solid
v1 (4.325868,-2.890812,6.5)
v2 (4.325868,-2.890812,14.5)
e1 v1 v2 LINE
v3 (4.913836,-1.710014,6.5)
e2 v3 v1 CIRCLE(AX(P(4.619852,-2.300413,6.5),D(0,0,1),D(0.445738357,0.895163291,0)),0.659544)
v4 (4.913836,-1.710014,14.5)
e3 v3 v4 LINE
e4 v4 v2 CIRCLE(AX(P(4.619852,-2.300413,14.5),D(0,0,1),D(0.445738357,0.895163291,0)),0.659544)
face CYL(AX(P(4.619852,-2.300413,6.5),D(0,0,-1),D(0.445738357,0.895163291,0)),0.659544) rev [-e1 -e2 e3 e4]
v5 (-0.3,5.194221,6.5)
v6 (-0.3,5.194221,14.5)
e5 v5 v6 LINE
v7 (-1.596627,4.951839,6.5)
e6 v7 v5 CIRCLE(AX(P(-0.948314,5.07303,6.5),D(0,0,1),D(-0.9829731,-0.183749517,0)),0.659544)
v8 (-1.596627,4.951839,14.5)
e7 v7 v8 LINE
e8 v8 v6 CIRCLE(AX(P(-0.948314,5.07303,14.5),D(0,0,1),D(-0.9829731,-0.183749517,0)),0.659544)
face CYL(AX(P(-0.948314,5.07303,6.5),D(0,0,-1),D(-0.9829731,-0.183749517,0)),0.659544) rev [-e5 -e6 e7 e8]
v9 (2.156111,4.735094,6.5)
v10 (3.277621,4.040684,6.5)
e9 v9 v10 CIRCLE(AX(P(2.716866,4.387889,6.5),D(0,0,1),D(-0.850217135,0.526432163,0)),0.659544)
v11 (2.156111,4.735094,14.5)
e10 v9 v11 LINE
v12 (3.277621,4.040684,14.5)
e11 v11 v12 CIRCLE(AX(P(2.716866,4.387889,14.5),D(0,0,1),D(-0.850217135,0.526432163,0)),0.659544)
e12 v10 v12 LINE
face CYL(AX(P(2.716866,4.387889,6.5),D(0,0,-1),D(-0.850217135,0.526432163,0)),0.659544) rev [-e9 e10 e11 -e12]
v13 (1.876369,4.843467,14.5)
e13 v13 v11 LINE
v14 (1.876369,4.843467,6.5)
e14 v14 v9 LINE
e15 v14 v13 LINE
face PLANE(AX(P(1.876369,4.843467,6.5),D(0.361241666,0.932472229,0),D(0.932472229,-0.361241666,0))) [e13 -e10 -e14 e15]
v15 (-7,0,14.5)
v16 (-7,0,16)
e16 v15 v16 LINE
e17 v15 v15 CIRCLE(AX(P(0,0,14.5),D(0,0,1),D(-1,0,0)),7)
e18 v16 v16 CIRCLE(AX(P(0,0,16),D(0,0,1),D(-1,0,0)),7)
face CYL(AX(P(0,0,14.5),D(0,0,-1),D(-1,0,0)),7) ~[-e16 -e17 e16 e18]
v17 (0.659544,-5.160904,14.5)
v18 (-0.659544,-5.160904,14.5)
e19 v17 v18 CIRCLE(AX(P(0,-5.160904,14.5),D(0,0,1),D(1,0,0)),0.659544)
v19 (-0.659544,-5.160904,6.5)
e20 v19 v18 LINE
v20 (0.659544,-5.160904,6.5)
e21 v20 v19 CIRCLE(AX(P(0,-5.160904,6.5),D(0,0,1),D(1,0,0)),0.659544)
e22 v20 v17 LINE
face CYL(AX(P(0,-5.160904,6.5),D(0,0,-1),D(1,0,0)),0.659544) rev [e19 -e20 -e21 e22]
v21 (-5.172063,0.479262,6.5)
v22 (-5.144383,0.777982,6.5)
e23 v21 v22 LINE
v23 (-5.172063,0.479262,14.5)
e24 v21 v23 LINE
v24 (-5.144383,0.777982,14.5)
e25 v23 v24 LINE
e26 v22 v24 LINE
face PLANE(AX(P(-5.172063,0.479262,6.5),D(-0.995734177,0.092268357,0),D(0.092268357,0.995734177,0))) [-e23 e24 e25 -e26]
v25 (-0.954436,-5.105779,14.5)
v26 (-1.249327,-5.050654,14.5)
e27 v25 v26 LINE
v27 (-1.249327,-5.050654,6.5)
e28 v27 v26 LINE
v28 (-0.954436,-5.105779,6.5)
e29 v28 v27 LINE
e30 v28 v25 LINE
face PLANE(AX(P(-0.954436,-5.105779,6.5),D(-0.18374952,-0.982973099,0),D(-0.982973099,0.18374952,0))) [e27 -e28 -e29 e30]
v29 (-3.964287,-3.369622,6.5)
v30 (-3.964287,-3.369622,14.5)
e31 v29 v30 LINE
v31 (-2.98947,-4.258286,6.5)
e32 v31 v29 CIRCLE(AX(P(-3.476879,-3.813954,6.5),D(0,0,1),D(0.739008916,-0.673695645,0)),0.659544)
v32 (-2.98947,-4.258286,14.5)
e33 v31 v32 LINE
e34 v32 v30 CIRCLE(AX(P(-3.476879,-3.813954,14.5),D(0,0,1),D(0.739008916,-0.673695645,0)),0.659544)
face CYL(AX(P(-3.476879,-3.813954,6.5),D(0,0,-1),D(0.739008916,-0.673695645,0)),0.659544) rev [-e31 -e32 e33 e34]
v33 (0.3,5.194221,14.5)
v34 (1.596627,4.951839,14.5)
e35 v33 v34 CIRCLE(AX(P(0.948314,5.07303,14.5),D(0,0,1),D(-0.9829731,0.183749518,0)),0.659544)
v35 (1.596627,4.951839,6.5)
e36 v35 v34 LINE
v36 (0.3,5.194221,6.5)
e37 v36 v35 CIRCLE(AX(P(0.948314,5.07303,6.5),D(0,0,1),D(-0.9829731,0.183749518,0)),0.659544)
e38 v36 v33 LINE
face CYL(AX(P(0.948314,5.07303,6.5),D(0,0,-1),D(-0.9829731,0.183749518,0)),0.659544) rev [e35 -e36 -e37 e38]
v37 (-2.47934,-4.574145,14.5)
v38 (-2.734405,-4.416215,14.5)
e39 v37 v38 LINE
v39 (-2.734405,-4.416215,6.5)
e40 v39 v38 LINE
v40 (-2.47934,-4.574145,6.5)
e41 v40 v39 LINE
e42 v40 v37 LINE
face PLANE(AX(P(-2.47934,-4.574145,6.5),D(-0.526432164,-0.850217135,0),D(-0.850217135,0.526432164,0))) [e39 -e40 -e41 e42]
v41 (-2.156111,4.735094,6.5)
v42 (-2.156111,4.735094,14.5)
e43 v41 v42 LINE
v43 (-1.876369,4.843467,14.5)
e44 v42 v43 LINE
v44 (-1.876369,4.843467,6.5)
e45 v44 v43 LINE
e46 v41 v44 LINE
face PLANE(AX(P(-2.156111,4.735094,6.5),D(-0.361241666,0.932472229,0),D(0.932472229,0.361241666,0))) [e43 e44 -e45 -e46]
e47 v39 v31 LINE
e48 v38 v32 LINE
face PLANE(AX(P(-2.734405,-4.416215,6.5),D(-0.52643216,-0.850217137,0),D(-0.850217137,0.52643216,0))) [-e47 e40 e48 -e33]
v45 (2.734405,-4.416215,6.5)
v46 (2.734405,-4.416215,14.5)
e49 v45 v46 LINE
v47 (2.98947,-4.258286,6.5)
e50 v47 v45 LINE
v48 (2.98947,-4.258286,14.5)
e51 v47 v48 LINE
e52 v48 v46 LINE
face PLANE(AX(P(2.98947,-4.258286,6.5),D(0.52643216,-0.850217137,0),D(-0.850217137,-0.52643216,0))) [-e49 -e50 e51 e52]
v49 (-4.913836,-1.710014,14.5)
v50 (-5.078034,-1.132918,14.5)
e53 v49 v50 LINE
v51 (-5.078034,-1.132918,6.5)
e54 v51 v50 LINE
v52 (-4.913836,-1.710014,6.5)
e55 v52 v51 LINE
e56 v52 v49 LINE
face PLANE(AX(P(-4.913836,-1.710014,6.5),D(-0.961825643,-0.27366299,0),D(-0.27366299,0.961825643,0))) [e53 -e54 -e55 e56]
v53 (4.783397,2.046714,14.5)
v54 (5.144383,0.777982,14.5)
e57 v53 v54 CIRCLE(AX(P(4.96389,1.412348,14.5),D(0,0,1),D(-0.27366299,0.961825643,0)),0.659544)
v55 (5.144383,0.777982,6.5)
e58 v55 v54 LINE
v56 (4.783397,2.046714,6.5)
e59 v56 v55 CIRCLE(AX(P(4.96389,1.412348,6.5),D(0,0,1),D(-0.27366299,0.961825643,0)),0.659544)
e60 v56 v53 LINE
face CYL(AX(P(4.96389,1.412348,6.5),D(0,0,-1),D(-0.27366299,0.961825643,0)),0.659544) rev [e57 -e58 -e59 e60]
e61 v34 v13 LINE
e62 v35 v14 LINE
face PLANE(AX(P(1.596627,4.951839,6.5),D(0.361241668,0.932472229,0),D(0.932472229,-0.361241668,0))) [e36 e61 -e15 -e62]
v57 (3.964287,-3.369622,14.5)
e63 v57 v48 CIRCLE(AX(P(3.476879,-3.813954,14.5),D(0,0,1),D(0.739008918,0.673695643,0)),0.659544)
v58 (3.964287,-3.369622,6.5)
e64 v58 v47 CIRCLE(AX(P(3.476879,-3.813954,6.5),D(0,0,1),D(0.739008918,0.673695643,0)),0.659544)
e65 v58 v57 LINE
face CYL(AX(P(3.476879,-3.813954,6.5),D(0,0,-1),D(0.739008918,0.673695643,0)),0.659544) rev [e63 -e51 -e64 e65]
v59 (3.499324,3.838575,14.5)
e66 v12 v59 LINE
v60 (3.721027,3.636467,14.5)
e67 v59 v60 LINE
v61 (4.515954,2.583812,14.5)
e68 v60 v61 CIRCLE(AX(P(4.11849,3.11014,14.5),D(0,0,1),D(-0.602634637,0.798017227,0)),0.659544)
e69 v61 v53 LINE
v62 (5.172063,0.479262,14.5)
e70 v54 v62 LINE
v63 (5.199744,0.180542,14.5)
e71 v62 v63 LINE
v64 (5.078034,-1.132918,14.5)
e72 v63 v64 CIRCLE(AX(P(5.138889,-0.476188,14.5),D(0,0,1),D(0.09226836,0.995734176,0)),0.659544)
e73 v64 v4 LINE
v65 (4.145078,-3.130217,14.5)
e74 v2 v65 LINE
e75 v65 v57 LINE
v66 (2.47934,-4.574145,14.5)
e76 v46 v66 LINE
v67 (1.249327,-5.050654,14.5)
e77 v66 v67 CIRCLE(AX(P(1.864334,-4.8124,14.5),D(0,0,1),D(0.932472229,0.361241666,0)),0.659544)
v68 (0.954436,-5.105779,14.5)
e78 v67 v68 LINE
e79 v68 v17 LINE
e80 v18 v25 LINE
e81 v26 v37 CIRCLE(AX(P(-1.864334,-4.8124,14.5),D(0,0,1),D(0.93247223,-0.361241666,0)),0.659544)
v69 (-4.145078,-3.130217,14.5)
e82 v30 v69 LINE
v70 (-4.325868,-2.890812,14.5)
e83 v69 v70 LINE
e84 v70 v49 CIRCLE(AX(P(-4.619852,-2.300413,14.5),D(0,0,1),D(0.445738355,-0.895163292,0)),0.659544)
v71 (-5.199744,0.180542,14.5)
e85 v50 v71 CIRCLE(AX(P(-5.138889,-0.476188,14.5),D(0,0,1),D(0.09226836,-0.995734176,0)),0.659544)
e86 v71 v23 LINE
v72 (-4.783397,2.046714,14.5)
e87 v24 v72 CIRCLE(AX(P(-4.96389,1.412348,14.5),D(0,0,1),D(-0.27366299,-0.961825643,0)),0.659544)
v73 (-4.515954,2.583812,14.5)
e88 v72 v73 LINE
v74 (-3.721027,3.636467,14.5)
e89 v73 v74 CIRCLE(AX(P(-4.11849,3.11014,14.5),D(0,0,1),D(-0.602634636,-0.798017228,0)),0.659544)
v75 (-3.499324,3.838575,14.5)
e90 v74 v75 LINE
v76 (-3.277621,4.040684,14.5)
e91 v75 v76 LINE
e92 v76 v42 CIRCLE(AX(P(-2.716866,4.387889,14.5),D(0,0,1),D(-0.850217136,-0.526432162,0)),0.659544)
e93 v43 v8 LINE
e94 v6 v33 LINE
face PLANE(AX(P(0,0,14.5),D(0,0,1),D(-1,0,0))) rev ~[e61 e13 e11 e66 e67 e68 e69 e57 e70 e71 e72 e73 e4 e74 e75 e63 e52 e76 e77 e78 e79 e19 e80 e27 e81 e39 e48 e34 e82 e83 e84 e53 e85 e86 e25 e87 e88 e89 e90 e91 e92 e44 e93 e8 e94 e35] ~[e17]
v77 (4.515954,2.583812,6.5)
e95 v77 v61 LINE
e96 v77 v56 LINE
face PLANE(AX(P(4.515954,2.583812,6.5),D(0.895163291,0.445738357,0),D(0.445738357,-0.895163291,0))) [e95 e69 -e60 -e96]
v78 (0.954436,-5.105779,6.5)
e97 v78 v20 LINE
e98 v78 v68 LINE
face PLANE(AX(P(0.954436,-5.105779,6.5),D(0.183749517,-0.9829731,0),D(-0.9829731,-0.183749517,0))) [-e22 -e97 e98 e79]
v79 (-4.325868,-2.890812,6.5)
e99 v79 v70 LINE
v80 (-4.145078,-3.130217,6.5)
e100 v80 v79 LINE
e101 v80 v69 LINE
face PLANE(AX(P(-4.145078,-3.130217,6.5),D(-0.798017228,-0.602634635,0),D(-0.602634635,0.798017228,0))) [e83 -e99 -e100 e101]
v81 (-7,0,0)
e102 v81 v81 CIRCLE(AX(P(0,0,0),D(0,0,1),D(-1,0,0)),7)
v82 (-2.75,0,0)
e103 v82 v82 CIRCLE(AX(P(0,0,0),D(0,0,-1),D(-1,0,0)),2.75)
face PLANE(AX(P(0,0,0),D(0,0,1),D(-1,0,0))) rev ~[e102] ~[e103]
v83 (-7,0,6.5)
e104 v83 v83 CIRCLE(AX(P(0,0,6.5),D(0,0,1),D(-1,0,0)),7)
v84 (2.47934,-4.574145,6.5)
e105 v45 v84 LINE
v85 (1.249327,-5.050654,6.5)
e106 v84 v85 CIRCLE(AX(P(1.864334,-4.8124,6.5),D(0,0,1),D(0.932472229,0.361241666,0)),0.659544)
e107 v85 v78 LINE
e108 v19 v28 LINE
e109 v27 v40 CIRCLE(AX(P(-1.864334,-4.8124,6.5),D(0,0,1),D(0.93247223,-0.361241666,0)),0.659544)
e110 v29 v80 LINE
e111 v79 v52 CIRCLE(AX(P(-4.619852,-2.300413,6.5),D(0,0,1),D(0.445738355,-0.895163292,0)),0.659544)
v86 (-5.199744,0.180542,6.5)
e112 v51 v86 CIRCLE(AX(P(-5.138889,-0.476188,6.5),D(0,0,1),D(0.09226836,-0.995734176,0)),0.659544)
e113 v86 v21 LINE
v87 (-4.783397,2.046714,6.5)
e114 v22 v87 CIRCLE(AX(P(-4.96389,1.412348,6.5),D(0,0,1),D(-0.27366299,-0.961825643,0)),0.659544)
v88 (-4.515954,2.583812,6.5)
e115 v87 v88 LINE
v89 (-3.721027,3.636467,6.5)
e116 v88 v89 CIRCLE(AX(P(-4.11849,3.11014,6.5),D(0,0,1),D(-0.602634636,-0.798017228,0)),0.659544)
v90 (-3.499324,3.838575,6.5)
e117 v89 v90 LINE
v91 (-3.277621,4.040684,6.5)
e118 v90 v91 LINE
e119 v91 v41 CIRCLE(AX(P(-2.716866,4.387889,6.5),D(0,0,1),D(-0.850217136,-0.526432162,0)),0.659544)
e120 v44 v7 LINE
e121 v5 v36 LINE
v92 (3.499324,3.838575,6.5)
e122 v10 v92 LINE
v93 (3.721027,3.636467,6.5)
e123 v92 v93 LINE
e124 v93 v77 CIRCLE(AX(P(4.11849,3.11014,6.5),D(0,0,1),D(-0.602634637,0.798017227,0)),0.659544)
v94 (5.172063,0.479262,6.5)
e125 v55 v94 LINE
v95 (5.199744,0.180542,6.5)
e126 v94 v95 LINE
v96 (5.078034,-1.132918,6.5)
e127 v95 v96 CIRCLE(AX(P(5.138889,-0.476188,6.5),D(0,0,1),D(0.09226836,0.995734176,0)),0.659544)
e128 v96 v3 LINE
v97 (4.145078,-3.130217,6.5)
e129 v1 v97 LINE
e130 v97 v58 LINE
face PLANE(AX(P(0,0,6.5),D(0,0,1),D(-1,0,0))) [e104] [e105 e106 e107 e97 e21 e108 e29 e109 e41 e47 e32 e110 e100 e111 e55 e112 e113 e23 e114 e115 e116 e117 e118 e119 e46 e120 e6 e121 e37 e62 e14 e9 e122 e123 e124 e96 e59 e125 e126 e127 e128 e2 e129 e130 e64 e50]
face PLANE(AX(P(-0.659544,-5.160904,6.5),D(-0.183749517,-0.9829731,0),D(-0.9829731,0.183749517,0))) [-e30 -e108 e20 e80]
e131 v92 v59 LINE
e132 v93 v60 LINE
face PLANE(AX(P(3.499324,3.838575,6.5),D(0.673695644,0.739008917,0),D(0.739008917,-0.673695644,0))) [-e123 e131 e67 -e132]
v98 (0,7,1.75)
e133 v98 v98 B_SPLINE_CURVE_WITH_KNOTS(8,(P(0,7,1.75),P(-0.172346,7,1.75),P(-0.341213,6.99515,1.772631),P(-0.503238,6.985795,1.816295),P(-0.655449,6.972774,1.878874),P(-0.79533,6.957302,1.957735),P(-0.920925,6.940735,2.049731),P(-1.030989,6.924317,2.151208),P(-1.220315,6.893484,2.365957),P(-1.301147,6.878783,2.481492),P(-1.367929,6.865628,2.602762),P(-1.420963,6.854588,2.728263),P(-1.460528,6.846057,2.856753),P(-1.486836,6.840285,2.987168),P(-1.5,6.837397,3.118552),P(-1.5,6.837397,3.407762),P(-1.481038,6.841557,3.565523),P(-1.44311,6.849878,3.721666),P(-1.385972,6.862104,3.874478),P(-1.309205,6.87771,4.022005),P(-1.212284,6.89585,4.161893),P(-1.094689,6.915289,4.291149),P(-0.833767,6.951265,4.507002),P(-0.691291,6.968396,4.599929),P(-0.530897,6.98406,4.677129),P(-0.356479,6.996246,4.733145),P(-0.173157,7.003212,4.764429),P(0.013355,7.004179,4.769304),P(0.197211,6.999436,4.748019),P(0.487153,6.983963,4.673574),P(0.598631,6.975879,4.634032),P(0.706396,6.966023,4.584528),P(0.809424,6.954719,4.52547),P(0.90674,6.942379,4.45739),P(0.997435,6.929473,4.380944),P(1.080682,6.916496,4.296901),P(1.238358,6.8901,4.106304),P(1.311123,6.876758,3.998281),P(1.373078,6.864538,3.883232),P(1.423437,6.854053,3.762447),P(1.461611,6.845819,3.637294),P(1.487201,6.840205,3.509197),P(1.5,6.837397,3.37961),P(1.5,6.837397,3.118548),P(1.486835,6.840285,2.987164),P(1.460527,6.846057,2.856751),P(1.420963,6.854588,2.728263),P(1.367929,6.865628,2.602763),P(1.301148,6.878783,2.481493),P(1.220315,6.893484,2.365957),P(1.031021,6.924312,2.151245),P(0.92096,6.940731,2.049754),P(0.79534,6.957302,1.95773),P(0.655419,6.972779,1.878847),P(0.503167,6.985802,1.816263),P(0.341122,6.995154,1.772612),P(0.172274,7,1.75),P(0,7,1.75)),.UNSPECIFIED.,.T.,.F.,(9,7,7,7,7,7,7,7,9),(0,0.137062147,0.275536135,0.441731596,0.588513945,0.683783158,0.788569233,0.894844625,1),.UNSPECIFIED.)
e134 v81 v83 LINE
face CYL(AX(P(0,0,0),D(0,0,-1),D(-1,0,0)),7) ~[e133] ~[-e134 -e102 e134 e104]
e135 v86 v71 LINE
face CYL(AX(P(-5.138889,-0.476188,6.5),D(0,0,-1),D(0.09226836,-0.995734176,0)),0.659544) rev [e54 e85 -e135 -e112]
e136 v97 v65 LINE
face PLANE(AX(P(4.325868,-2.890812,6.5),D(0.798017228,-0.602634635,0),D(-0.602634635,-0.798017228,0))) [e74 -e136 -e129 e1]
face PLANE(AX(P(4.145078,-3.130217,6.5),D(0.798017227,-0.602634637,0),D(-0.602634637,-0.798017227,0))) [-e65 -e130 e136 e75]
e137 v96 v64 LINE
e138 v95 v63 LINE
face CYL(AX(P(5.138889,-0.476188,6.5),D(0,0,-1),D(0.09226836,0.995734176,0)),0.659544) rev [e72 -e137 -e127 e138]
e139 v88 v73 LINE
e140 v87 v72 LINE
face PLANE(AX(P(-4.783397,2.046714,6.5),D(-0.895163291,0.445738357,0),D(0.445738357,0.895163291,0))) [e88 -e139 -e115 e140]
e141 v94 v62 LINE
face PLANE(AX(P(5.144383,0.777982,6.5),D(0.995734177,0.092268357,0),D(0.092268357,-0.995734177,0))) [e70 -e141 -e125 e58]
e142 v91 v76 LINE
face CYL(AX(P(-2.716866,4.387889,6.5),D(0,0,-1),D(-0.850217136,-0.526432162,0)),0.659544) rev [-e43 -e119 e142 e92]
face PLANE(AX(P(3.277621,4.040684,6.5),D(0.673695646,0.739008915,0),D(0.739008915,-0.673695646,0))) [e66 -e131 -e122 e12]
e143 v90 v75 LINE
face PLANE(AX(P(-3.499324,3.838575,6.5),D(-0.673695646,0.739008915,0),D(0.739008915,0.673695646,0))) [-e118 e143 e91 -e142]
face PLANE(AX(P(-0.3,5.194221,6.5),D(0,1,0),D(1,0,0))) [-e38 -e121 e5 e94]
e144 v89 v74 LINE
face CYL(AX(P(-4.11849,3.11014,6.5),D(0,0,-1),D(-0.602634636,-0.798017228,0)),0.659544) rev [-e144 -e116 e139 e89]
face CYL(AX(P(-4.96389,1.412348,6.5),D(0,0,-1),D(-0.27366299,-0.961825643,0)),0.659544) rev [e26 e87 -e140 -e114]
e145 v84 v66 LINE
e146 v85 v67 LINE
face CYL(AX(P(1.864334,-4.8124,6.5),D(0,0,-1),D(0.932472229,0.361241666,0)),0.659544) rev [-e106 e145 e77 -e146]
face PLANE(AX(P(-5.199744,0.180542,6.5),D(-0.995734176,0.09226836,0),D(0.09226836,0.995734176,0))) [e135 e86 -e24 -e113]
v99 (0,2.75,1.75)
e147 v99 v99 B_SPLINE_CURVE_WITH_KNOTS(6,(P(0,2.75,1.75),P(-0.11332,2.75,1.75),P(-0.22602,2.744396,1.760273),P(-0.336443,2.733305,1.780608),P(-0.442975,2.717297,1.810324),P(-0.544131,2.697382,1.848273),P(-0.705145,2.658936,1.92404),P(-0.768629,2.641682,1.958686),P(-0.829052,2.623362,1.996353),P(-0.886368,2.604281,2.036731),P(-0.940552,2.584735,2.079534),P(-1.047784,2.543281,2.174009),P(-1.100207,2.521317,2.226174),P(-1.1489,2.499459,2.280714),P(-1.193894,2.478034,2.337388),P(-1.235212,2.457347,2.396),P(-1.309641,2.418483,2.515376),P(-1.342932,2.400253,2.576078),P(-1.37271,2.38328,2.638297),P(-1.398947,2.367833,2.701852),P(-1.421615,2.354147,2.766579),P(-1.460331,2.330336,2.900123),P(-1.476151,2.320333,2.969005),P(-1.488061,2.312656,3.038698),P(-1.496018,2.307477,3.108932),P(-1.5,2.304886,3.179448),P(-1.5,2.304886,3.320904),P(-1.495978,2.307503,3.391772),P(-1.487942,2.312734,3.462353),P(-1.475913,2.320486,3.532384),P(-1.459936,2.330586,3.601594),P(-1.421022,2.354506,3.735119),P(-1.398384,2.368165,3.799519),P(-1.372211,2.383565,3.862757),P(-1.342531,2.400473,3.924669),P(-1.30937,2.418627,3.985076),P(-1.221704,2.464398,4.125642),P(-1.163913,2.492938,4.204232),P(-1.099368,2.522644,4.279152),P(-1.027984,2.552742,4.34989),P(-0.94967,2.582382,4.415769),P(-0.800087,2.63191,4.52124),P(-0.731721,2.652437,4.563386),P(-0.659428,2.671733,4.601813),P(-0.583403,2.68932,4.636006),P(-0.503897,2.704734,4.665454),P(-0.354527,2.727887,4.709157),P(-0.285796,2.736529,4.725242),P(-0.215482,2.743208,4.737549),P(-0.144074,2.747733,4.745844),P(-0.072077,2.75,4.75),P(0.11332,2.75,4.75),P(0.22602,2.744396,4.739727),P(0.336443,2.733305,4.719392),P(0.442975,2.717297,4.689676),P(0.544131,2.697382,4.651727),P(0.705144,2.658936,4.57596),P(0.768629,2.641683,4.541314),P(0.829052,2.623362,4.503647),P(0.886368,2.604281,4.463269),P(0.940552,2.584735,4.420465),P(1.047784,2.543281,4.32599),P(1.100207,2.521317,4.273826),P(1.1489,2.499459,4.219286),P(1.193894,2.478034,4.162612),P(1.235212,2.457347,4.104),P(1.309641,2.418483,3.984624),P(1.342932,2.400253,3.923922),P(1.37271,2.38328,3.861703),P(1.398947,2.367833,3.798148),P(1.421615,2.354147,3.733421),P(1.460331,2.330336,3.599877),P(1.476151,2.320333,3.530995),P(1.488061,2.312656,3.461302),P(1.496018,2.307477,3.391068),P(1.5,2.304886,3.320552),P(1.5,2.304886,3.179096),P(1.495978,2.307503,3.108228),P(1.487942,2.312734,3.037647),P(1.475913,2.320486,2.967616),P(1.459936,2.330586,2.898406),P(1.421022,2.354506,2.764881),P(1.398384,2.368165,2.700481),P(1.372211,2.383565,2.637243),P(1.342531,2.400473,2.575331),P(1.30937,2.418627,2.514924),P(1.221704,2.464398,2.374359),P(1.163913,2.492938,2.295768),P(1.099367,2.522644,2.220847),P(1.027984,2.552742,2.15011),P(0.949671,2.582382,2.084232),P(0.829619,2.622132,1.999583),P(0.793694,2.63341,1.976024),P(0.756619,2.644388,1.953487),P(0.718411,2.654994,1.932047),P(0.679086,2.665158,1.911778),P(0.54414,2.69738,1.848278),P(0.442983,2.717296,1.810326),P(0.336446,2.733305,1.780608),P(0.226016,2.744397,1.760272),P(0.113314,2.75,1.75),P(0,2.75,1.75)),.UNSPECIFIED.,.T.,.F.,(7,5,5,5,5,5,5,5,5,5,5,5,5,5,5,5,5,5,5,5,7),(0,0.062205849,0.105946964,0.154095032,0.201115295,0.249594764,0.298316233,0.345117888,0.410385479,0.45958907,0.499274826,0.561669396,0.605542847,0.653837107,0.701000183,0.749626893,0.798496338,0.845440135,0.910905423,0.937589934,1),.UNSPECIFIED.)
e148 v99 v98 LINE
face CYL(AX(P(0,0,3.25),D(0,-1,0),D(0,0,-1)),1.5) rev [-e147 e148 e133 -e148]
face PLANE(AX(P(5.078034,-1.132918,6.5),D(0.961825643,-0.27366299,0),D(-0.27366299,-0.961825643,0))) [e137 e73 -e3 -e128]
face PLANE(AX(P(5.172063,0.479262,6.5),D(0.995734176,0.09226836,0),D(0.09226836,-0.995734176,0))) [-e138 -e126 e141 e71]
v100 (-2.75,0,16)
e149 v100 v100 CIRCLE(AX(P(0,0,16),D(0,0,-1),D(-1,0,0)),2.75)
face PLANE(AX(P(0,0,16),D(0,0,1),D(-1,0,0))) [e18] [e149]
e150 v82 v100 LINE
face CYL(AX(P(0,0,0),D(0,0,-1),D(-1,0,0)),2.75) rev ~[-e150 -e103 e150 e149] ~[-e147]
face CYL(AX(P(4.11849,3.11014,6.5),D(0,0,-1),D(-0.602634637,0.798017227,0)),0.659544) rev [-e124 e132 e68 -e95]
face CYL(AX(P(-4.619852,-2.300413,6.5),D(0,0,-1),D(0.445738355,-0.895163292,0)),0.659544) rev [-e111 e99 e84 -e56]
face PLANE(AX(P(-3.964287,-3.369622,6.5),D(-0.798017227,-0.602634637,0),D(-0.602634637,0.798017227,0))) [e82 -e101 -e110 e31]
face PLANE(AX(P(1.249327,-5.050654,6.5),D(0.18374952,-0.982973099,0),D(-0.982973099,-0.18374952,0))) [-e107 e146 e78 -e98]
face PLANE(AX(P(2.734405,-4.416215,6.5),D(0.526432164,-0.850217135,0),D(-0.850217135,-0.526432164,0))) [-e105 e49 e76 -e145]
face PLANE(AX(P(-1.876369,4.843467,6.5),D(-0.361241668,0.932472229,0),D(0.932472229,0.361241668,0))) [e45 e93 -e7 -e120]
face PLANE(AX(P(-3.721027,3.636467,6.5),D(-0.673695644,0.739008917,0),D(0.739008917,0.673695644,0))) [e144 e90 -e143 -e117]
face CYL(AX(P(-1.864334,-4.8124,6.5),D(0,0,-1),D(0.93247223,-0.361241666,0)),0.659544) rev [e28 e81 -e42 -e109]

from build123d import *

# Parameters (mm, degrees)
ESQUISSE1_R                  = 7
BOSS_EXTRU_1_DEPTH           = 6.5
BOSS_EXTRU_2_DEPTH           = 8
ESQUISSE4_R                  = 7
BOSS_EXTRU_3_DEPTH           = 1.5
ESQUISSE5_R                  = 2.75
ENL_V_MAT_EXTRU_1_DEPTH      = 16
ENL_V_MAT_EXTRU_3_REACH      = 20.815
ENL_V_MAT_EXTRU_3_END_RADIUS = 7
ESQUISSE8_R                  = 1.5


with BuildPart() as part:
    # Esquisse1 → Boss.-Extru.1 (new body)
    with BuildSketch(Plane.XY):
        with Locations(Location((0, 0, 0), (0, 0, 180))):
            Circle(ESQUISSE1_R)
    extrude(amount=BOSS_EXTRU_1_DEPTH)

    # Esquisse3 → Boss.-Extru.2 (add)
    with BuildSketch(Plane.XY.offset(6.5)):
        with BuildLine():
            Line((0, 5.194220739), (0.3, 5.194220739))
            ThreePointArc((0.3, 5.194220739), (0.827122819, 4.424716273), (1.596627286, 4.951839093))
            Line((1.596627286, 4.951839093), (1.876368954, 4.843466593))
            Line((1.876368954, 4.843466593), (2.156110623, 4.735094093))
            ThreePointArc((2.156110623, 4.735094093), (2.369660938, 3.827133822), (3.277621209, 4.040684138))
            Line((3.277621209, 4.040684138), (3.499323884, 3.838575444))
            Line((3.499323884, 3.838575444), (3.721026559, 3.636466751))
            ThreePointArc((3.721026559, 3.636466751), (3.592163217, 2.712675742), (4.515954226, 2.583812399))
            Line((4.515954226, 2.583812399), (4.649675733, 2.315263412))
            Line((4.649675733, 2.315263412), (4.78339724, 2.046714425))
            ThreePointArc((4.78339724, 2.046714425), (4.329523948, 1.231855771), (5.144382602, 0.777982479))
            Line((5.144382602, 0.777982479), (5.172063109, 0.479262226))
            Line((5.172063109, 0.479262226), (5.199743617, 0.180541973))
            ThreePointArc((5.199743617, 0.180541973), (4.482158479, -0.415333148), (5.0780336, -1.132918286))
            Line((5.0780336, -1.132918286), (4.995934703, -1.421465979))
            Line((4.995934703, -1.421465979), (4.913835806, -1.710013672))
            ThreePointArc((4.913835806, -1.710013672), (4.029452671, -2.006429023), (4.325868023, -2.890812158))
            Line((4.325868023, -2.890812158), (4.145077632, -3.130217327))
            Line((4.145077632, -3.130217327), (3.964287241, -3.369622495))
            ThreePointArc((3.964287241, -3.369622495), (3.032546952, -3.326545541), (2.989469999, -4.258285831))
            Line((2.989469999, -4.258285831), (2.734404858, -4.416215479))
            Line((2.734404858, -4.416215479), (2.479339718, -4.574145128))
            ThreePointArc((2.479339718, -4.574145128), (1.626078963, -4.197393651), (1.249327486, -5.050654405))
            Line((1.249327486, -5.050654405), (0.954435556, -5.105779261))
            Line((0.954435556, -5.105779261), (0.659543626, -5.160904116))
            ThreePointArc((0.659543626, -5.160904116), (0, -4.50136049), (-0.659543626, -5.160904116))
            Line((-0.659543626, -5.160904116), (-0.954435556, -5.105779261))
            Line((-0.954435556, -5.105779261), (-1.249327486, -5.050654405))
            ThreePointArc((-1.249327486, -5.050654405), (-1.626078963, -4.197393651), (-2.479339718, -4.574145128))
            Line((-2.479339718, -4.574145128), (-2.734404858, -4.416215479))
            Line((-2.734404858, -4.416215479), (-2.989469999, -4.258285831))
            ThreePointArc((-2.989469999, -4.258285831), (-3.032546952, -3.326545541), (-3.964287241, -3.369622495))
            Line((-3.964287241, -3.369622495), (-4.145077632, -3.130217327))
            Line((-4.145077632, -3.130217327), (-4.325868023, -2.890812158))
            ThreePointArc((-4.325868023, -2.890812158), (-4.029452671, -2.006429023), (-4.913835806, -1.710013672))
            Line((-4.913835806, -1.710013672), (-4.995934703, -1.421465979))
            Line((-4.995934703, -1.421465979), (-5.0780336, -1.132918286))
            ThreePointArc((-5.0780336, -1.132918286), (-4.482158479, -0.415333148), (-5.199743617, 0.180541973))
            Line((-5.199743617, 0.180541973), (-5.172063109, 0.479262226))
            Line((-5.172063109, 0.479262226), (-5.144382602, 0.777982479))
            ThreePointArc((-5.144382602, 0.777982479), (-4.329523948, 1.231855771), (-4.78339724, 2.046714425))
            Line((-4.78339724, 2.046714425), (-4.649675733, 2.315263412))
            Line((-4.649675733, 2.315263412), (-4.515954226, 2.583812399))
            ThreePointArc((-4.515954226, 2.583812399), (-3.592163217, 2.712675742), (-3.721026559, 3.636466751))
            Line((-3.721026559, 3.636466751), (-3.499323884, 3.838575444))
            Line((-3.499323884, 3.838575444), (-3.277621209, 4.040684138))
            ThreePointArc((-3.277621209, 4.040684138), (-2.369660938, 3.827133822), (-2.156110623, 4.735094093))
            Line((-2.156110623, 4.735094093), (-1.876368954, 4.843466593))
            Line((-1.876368954, 4.843466593), (-1.596627286, 4.951839093))
            ThreePointArc((-1.596627286, 4.951839093), (-0.827122819, 4.424716273), (-0.3, 5.194220739))
            Line((-0.3, 5.194220739), (0, 5.194220739))
        make_face()
    extrude(amount=BOSS_EXTRU_2_DEPTH)

    # Esquisse4 → Boss.-Extru.3 (add)
    with BuildSketch(Plane.XY.offset(14.5)):
        with Locations(Location((0, 0, 0), (0, 0, 180))):
            Circle(ESQUISSE4_R)
    extrude(amount=BOSS_EXTRU_3_DEPTH)

    # Esquisse5 → Enlèv. mat.-Extru.1 (cut)
    with BuildSketch(Plane(origin=(0, 0, 0), x_dir=(-1, 0, 0), z_dir=(0, 0, -1))):
        Circle(ESQUISSE5_R)
    extrude(amount=-ENL_V_MAT_EXTRU_1_DEPTH, mode=Mode.SUBTRACT)

    # Enlèv. mat.-Extru.3: up to this cylinder (the profile starts inside it)
    enl_v_mat_extru_3_end = Plane(origin=(0, 0, 3.25), z_dir=(0, 0, -1)) * Cylinder(ENL_V_MAT_EXTRU_3_END_RADIUS, 56.63, mode=Mode.PRIVATE)
    # Esquisse8 → Enlèv. mat.-Extru.3 (cut, up to the surface)
    with BuildSketch(Plane(origin=(0, 0, 0), x_dir=(1, 0, 0), z_dir=(0, 1, 0)), mode=Mode.PRIVATE) as enl_v_mat_extru_3_sk1:
        with Locations(Location((0, -3.25, 0), (0, 0, 90))):
            Circle(ESQUISSE8_R)
    enl_v_mat_extru_3_tool1 = extrude(enl_v_mat_extru_3_sk1.sketch, amount=ENL_V_MAT_EXTRU_3_REACH, mode=Mode.PRIVATE) & enl_v_mat_extru_3_end
    add(enl_v_mat_extru_3_tool1.solids().sort_by_distance((0, 0, 3.25))[0], mode=Mode.SUBTRACT)


solid = part.part
